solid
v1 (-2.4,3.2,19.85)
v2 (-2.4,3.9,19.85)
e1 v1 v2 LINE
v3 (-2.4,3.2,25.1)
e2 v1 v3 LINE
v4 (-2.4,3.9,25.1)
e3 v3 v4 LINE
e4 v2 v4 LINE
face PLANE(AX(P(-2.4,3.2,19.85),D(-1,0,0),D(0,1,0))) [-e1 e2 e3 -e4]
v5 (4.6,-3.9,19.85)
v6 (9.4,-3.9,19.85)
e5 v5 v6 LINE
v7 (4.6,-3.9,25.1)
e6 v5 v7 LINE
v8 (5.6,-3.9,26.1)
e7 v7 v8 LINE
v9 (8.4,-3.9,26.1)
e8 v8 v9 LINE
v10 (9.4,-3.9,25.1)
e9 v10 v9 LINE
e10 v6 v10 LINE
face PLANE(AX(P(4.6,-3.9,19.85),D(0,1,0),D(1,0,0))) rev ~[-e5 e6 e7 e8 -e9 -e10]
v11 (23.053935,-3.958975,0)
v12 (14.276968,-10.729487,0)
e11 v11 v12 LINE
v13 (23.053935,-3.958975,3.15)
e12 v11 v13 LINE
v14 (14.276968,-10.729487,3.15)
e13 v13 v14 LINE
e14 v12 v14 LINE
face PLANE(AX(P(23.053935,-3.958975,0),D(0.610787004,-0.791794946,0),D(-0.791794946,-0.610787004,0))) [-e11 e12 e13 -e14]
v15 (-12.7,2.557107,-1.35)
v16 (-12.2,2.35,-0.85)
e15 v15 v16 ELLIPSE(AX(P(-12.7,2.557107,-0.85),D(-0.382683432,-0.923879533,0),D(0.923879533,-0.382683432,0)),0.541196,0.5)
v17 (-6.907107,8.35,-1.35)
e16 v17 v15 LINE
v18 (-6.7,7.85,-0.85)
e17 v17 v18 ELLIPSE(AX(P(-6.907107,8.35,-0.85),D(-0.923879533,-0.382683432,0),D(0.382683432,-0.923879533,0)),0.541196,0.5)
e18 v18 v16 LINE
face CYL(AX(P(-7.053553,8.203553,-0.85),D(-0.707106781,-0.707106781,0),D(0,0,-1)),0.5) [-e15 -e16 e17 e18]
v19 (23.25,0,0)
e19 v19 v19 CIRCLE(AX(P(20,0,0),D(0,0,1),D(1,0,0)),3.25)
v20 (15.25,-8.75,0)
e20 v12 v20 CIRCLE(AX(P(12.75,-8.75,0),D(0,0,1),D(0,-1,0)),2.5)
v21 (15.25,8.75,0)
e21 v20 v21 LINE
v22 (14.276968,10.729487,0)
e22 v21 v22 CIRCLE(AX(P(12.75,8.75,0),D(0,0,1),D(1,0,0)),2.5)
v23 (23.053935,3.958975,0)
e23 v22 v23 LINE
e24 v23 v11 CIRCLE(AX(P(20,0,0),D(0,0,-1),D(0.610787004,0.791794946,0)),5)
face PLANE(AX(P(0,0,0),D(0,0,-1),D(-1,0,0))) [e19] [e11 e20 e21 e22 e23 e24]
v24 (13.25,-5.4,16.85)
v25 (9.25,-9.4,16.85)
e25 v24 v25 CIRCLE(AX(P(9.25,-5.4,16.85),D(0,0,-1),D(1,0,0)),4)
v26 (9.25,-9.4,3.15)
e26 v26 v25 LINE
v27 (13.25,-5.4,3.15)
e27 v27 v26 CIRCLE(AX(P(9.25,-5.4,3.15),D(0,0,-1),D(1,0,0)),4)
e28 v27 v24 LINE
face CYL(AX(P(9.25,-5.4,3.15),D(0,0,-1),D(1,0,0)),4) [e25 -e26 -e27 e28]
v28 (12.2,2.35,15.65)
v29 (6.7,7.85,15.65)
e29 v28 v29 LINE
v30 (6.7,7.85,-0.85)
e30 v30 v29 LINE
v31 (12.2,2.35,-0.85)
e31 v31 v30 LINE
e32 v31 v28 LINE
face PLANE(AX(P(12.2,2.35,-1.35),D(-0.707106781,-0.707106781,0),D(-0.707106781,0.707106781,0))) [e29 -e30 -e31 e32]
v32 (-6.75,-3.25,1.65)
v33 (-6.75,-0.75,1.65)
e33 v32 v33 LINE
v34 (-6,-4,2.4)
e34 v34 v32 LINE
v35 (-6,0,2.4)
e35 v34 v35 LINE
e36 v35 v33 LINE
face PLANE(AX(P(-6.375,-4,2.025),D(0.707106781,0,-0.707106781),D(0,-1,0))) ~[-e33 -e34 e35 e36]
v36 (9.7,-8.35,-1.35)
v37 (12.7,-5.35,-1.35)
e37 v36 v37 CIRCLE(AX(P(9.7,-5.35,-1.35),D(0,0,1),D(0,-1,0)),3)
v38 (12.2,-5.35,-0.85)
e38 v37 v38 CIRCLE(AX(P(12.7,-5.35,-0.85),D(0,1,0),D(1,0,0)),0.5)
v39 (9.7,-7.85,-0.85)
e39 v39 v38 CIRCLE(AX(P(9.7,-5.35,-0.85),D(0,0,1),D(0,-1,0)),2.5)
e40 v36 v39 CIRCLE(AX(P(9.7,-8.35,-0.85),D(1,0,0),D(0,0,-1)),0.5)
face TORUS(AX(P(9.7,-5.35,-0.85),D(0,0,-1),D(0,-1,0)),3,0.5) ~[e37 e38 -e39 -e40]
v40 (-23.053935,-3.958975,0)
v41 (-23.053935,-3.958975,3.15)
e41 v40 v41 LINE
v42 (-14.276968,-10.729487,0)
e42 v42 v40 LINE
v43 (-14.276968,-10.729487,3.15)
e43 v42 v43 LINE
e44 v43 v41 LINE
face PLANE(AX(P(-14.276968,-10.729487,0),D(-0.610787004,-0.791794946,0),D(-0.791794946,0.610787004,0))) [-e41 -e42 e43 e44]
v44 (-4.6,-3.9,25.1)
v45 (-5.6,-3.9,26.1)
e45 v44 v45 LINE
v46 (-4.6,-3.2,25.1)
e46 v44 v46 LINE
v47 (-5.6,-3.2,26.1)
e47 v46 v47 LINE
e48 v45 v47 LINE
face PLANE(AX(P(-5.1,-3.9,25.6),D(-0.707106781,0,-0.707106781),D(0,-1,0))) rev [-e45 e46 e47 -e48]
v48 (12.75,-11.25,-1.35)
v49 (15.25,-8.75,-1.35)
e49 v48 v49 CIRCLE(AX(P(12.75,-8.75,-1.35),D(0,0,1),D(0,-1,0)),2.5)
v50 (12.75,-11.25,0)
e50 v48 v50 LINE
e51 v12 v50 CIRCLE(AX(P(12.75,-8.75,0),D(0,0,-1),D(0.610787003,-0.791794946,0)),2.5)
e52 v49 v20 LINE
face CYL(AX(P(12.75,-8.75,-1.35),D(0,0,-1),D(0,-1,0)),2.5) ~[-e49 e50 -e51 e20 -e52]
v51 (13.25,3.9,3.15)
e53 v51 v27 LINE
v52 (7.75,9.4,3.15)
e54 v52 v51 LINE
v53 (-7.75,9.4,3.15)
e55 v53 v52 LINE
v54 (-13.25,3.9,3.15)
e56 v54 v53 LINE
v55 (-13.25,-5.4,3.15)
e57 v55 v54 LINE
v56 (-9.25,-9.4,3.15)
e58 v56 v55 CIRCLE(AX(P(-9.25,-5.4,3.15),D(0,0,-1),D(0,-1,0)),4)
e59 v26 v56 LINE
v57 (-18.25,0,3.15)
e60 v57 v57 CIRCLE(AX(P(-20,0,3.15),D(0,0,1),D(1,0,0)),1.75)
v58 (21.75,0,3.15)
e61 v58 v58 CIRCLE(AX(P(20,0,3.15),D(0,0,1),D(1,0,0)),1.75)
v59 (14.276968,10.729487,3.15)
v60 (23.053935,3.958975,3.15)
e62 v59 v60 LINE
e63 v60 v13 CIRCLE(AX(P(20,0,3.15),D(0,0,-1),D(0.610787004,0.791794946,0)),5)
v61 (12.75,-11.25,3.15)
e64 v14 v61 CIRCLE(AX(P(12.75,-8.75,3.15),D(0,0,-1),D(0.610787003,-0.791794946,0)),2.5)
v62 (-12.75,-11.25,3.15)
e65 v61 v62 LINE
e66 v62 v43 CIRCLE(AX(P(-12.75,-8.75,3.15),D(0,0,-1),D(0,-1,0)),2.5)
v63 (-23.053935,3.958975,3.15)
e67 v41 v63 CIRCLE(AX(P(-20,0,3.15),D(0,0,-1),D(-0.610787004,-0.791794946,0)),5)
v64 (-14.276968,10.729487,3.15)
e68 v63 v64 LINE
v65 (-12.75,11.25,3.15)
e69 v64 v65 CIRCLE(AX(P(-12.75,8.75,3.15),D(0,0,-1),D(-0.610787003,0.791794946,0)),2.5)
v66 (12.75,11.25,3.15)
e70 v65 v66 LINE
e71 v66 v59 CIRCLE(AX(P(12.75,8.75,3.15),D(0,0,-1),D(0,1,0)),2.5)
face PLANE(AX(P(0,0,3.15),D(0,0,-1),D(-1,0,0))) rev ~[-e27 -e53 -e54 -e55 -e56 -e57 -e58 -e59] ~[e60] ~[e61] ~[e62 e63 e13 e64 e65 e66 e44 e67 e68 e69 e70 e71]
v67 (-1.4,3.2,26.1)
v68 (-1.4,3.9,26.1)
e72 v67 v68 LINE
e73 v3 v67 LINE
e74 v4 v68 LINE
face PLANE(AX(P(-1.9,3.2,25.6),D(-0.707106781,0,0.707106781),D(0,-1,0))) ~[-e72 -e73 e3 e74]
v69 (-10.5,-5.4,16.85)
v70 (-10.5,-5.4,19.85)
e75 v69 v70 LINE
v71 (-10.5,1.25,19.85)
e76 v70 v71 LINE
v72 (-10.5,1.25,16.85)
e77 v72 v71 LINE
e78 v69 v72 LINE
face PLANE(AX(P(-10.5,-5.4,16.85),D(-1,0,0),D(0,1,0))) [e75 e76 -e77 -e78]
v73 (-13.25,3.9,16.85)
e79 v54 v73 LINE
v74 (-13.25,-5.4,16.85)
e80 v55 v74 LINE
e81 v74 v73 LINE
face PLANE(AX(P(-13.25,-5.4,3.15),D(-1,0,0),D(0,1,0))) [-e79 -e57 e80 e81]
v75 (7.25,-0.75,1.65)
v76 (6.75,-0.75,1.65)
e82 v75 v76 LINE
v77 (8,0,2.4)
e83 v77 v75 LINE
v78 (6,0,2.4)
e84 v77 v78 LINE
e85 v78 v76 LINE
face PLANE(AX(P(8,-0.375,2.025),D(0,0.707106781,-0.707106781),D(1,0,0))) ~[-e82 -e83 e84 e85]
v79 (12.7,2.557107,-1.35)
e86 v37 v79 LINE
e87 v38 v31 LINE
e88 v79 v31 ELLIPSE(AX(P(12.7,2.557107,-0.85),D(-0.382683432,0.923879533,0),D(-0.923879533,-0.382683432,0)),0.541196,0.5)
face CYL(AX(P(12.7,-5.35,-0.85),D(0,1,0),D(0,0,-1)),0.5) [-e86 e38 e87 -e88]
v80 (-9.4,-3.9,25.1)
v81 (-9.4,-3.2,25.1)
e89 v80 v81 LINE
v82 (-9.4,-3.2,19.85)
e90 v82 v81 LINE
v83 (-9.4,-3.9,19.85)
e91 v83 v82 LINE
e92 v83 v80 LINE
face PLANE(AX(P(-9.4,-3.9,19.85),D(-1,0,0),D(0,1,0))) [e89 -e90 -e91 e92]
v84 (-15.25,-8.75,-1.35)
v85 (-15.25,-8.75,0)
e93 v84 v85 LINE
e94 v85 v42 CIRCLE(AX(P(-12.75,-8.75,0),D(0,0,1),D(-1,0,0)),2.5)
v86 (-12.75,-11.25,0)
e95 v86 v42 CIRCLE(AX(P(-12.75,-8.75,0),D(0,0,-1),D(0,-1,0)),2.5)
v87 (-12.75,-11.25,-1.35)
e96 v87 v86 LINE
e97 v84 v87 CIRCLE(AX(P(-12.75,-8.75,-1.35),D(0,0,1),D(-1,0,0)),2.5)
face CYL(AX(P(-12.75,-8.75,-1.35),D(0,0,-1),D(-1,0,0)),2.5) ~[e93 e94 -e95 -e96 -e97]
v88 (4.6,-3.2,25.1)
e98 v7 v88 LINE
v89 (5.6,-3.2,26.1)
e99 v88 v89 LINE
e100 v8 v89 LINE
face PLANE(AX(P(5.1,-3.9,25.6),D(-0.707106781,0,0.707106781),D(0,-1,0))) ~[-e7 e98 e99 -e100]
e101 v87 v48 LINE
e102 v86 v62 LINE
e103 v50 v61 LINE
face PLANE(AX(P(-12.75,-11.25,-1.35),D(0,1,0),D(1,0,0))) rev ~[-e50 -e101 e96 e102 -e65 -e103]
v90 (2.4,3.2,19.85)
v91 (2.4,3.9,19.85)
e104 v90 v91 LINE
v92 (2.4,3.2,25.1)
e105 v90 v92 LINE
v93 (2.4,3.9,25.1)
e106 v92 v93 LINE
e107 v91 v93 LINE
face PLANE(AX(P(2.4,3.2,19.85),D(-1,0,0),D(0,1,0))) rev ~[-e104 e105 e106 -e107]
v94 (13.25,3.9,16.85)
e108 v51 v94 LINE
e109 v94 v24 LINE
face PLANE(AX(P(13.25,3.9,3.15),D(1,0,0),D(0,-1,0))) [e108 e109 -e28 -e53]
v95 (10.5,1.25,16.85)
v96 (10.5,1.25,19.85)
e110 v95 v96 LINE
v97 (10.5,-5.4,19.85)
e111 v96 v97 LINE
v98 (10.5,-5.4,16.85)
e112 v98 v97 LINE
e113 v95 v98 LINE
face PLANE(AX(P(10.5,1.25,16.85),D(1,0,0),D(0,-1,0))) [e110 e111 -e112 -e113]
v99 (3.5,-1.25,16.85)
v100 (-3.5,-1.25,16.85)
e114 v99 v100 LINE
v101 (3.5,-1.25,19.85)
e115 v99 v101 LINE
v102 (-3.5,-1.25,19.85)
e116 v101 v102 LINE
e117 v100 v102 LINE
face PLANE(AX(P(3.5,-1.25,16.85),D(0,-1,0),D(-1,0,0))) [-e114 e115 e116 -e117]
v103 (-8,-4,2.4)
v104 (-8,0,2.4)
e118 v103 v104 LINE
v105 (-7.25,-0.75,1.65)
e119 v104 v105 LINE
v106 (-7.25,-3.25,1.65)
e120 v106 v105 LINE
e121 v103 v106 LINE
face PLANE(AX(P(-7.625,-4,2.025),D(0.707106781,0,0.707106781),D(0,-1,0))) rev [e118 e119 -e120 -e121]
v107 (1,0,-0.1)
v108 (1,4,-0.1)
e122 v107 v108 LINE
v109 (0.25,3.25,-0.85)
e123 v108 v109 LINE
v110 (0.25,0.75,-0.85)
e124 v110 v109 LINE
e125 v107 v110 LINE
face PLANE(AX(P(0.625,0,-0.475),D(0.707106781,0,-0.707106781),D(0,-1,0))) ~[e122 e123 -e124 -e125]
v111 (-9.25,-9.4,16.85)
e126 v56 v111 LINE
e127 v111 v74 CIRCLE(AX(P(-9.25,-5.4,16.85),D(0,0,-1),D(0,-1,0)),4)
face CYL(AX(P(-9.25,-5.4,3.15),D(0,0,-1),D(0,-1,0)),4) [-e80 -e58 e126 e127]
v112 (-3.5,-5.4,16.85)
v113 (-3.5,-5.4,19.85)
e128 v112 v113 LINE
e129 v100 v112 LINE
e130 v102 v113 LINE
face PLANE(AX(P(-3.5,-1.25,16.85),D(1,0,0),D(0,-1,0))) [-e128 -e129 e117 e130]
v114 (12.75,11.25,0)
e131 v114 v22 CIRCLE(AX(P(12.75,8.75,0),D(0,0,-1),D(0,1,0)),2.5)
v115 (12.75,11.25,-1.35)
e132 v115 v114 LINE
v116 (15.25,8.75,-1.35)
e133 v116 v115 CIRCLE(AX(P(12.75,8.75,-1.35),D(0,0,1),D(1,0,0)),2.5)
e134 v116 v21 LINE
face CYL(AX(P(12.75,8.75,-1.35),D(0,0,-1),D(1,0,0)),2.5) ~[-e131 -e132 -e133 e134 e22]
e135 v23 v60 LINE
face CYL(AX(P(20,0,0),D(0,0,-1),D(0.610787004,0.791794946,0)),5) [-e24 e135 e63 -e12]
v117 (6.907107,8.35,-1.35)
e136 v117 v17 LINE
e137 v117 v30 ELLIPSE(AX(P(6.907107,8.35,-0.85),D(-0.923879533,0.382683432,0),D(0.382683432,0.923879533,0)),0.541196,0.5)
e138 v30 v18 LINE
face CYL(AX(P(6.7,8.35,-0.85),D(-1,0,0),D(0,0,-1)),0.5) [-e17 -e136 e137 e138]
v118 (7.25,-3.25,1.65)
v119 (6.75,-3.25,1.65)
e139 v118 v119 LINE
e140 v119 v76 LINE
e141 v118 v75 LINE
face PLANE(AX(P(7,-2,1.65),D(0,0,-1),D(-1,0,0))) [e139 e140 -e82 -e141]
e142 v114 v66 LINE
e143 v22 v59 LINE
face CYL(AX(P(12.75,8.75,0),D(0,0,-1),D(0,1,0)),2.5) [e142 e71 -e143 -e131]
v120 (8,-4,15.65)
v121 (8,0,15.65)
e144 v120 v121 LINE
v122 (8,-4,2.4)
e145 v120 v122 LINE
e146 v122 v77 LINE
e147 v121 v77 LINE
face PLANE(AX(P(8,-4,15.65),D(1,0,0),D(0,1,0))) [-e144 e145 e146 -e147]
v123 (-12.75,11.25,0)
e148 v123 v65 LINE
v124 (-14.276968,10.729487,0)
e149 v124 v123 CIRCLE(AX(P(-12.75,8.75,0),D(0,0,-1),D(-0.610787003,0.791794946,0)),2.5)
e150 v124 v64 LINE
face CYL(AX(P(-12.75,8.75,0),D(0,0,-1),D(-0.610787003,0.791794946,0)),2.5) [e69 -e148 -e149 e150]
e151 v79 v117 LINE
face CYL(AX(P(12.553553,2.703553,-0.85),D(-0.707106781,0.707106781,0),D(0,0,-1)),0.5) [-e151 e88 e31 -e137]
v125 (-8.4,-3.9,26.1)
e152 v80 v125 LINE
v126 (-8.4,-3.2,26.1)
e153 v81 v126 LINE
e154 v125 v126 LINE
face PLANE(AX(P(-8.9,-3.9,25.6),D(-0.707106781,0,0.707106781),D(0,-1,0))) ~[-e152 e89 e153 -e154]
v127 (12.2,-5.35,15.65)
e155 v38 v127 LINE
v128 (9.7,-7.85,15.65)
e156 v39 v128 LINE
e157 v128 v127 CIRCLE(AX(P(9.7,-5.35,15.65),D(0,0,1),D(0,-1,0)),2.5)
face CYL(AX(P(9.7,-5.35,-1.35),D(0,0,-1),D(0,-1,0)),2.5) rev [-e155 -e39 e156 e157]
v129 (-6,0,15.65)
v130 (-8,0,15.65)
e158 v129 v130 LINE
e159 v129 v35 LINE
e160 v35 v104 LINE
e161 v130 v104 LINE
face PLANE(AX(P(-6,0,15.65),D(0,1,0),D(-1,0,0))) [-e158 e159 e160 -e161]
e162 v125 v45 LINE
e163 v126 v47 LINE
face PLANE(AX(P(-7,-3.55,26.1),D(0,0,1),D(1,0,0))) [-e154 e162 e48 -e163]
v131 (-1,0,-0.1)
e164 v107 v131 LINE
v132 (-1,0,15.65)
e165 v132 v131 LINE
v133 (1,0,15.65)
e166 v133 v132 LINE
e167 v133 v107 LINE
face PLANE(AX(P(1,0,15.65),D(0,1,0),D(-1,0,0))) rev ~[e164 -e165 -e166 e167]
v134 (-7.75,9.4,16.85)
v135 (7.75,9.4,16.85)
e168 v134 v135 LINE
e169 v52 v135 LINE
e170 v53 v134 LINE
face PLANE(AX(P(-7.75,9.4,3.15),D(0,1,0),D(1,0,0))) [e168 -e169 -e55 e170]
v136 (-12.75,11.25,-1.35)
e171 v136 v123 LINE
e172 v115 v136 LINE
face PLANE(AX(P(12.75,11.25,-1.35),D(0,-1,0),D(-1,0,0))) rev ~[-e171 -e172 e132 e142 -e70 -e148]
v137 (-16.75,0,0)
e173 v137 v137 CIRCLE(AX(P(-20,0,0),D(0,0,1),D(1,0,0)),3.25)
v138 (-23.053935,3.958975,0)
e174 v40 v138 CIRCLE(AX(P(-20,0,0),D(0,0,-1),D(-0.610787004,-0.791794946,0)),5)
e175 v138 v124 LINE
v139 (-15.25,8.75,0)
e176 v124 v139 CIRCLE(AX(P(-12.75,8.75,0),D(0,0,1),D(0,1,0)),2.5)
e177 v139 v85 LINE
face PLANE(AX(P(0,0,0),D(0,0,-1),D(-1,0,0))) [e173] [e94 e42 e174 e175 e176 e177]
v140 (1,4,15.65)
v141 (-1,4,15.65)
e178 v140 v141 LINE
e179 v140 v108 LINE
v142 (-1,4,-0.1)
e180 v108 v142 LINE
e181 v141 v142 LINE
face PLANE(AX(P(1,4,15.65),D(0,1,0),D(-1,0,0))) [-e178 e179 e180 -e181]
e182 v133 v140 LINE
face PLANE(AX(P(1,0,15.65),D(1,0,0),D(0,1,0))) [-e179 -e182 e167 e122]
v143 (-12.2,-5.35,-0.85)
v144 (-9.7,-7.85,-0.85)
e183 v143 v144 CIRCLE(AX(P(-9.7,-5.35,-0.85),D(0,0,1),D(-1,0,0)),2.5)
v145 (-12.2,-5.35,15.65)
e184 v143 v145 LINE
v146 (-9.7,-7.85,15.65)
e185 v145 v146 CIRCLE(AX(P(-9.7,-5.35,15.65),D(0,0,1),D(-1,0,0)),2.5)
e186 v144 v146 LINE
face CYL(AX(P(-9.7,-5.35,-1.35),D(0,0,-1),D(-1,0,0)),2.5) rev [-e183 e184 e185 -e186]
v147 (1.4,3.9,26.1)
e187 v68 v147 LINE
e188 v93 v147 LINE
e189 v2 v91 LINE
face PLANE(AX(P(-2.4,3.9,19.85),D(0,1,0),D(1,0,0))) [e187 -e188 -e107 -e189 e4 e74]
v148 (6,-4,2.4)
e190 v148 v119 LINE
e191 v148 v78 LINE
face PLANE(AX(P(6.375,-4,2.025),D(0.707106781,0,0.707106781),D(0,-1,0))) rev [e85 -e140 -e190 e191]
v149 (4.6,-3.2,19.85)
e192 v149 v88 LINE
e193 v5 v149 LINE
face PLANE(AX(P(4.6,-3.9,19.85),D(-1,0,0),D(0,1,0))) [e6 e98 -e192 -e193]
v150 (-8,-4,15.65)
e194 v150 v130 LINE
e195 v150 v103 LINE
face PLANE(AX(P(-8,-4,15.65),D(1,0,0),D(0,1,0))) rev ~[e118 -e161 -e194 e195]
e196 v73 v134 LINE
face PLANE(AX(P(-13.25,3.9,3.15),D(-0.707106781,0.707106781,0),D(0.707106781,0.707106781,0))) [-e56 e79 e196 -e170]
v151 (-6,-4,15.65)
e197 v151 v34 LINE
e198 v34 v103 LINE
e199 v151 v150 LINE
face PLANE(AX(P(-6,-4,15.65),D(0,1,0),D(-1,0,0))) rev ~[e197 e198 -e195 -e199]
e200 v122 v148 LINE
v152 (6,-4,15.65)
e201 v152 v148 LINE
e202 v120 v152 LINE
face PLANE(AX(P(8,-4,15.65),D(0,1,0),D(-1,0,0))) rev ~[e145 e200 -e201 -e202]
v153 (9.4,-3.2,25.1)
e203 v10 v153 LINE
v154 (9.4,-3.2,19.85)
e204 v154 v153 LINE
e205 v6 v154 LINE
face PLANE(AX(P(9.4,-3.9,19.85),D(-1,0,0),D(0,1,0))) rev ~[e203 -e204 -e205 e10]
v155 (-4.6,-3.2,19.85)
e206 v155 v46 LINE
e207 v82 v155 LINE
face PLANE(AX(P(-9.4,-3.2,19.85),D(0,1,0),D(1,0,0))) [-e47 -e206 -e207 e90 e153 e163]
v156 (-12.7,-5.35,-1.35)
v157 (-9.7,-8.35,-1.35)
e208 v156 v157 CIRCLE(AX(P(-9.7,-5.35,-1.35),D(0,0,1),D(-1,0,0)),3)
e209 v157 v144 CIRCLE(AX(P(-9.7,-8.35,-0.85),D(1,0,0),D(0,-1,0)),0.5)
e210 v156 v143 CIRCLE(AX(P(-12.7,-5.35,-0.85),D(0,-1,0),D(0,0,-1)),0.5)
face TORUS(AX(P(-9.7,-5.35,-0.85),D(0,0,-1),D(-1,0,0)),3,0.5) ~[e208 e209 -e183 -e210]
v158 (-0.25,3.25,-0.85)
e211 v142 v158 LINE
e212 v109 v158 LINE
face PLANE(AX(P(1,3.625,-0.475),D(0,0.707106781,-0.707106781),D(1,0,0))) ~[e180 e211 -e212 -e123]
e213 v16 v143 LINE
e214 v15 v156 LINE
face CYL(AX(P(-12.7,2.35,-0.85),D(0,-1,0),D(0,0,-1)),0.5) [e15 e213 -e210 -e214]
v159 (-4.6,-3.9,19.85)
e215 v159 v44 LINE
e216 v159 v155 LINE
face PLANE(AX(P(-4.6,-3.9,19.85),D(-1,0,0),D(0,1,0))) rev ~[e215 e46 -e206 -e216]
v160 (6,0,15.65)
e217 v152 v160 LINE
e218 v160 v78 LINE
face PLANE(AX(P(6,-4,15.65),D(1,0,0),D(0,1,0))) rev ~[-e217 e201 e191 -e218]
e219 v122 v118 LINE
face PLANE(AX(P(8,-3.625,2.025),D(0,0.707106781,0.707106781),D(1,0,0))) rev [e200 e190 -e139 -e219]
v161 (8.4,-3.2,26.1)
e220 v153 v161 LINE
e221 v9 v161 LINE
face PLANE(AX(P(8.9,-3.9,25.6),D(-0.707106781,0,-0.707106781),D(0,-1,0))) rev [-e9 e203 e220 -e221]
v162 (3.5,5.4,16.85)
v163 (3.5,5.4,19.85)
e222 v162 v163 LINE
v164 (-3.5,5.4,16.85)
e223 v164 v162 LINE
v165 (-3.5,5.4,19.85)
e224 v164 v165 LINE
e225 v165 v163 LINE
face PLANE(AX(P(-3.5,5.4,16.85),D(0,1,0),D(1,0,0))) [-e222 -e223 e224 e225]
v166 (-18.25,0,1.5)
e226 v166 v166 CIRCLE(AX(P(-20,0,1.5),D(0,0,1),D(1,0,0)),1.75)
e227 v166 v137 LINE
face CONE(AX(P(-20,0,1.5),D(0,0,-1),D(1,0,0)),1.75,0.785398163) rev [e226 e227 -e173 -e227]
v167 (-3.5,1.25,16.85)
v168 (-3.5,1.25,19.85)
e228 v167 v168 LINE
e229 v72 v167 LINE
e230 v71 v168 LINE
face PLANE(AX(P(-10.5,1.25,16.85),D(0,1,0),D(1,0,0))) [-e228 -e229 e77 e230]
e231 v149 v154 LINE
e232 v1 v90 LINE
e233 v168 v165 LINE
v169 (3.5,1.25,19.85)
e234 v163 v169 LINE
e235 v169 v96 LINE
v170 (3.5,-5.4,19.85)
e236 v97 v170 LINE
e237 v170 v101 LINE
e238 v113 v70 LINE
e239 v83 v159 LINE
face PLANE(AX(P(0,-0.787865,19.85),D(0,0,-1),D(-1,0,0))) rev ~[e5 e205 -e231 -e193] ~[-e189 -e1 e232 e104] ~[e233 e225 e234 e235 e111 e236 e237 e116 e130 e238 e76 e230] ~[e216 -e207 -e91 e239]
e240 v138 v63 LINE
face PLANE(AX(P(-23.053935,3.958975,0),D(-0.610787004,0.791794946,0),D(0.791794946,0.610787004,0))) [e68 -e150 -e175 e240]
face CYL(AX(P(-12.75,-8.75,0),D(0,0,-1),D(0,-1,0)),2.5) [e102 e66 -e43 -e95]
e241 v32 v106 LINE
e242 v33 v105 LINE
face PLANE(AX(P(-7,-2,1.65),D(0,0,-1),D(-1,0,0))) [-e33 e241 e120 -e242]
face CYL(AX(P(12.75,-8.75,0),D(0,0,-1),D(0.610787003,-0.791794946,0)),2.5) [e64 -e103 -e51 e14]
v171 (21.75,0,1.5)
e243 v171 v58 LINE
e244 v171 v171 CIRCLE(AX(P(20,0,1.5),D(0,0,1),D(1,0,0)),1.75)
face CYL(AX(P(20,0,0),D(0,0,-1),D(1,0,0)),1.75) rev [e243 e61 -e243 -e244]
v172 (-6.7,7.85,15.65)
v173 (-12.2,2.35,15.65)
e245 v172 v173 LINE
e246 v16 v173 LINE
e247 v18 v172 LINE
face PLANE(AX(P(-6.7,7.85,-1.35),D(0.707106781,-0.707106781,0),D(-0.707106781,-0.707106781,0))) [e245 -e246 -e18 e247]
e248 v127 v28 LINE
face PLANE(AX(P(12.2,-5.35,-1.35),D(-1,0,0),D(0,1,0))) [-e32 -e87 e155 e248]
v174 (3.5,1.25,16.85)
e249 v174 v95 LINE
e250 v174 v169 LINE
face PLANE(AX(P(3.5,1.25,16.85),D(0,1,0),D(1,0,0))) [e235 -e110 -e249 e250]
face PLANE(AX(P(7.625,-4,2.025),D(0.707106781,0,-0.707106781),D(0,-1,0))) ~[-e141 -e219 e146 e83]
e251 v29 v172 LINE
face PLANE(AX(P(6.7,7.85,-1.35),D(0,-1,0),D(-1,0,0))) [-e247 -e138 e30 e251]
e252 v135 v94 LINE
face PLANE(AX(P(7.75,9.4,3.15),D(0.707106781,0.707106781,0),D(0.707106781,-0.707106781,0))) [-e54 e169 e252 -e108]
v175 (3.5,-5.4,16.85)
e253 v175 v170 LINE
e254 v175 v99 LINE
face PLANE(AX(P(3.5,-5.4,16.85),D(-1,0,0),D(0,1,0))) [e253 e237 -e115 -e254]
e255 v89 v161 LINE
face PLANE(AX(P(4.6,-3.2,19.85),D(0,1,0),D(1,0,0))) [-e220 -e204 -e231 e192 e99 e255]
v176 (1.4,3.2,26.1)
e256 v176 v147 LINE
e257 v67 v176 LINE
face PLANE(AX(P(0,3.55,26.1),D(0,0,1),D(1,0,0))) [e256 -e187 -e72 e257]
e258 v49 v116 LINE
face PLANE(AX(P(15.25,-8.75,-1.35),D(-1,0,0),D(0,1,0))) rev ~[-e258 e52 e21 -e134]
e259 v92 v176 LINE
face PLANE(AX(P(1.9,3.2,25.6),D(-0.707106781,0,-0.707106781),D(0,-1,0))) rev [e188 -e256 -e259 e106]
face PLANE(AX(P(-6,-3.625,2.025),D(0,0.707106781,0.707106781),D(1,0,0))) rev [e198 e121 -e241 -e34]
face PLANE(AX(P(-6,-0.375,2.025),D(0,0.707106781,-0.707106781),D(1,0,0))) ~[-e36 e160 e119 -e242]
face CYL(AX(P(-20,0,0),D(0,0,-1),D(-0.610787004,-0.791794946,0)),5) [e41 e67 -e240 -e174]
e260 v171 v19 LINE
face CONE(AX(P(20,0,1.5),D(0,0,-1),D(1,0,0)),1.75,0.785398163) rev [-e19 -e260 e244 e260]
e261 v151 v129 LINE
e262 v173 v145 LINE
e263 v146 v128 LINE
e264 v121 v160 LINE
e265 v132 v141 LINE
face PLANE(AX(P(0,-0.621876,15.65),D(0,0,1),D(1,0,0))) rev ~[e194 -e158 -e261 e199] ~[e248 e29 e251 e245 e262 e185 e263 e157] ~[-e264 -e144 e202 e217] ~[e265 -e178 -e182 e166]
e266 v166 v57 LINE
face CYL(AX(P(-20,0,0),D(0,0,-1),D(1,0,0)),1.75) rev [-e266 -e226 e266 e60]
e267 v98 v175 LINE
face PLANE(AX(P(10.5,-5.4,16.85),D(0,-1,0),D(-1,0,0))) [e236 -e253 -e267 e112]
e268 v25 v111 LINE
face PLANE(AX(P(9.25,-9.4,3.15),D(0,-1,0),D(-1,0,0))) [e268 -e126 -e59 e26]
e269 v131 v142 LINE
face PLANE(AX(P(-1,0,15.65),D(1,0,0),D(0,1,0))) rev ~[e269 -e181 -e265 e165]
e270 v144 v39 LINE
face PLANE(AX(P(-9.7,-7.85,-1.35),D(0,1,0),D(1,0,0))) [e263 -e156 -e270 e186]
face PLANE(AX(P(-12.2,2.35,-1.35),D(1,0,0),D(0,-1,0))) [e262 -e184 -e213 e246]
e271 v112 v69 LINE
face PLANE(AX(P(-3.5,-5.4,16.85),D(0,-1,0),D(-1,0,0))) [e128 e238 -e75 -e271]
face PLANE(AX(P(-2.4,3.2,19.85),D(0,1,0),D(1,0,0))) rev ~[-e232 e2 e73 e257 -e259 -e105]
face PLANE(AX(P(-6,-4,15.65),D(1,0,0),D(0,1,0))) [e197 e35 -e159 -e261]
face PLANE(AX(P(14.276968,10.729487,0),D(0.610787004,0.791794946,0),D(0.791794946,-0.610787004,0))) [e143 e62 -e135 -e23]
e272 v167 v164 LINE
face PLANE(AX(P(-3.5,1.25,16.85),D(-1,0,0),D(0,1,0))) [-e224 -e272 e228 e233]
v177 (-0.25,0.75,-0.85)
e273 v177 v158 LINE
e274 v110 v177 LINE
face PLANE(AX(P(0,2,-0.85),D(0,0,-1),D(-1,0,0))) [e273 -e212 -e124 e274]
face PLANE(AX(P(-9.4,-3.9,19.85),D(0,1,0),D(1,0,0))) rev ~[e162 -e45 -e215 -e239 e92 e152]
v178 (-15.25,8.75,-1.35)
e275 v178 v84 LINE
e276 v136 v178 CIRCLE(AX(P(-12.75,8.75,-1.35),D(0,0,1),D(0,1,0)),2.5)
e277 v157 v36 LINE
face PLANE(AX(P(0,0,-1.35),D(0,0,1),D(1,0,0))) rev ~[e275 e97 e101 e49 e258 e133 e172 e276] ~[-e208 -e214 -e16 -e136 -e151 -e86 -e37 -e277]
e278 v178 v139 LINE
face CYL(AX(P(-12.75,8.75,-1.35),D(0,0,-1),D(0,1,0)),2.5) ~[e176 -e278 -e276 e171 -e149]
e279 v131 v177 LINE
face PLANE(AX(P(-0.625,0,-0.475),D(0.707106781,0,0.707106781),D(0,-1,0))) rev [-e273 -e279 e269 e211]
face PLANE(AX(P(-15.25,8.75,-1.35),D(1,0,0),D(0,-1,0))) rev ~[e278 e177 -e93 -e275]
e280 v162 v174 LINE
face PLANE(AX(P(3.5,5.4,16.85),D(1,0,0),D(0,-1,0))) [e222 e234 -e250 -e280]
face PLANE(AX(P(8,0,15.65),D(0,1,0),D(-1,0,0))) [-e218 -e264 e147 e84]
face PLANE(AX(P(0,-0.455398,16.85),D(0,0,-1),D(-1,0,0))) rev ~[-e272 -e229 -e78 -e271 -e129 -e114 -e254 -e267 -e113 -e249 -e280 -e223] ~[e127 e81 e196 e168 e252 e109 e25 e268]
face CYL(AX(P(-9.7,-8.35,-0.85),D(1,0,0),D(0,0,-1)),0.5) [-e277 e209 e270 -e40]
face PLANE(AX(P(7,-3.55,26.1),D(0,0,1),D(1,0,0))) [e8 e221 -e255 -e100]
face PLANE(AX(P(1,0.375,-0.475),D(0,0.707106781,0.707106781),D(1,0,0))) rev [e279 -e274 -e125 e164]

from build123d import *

# Parameters (mm, degrees)
SKETCH1_R      = 1.75
EXTRUDE1_DEPTH = 3.15
CHAMFER1_SIZE  = 1.5
EXTRUDE2_START = 1.35
EXTRUDE2_DEPTH = 1.35
EXTRUDE3_DEPTH = 13.7
EXTRUDE4_DEPTH = 3
SKETCH5_W      = 4.8
SKETCH5_H      = 0.7
EXTRUDE5_DEPTH = 6.25
CHAMFER2_SIZE  = 1
EXTRUDE6_DEPTH = 17
FILLET1_R      = 0.5
SKETCH7_W      = 2
SKETCH7_H      = 4
EXTRUDE7_DEPTH = 14
SKETCH8_W      = 2
SKETCH8_H      = 4
EXTRUDE8_DEPTH = 16.5
CHAMFER3_SIZE  = 0.75


with BuildPart() as part:
    # Sketch1 → Extrude1 (new body)
    with BuildSketch(Plane.XY):
        with BuildLine():
            Line((-12.75, 11.25), (12.75, 11.25))
            ThreePointArc((12.75, 11.25), (13.556623081, 11.116296517), (14.276967509, 10.729487365))
            Line((14.276967509, 10.729487365), (23.053935018, 3.958974729))
            ThreePointArc((23.053935018, 3.958974729), (25, 0), (23.053935018, -3.958974729))
            Line((23.053935018, -3.958974729), (14.276967509, -10.729487365))
            ThreePointArc((14.276967509, -10.729487365), (13.556623081, -11.116296517), (12.75, -11.25))
            Line((12.75, -11.25), (-12.75, -11.25))
            ThreePointArc((-12.75, -11.25), (-13.556623081, -11.116296517), (-14.276967509, -10.729487365))
            Line((-14.276967509, -10.729487365), (-23.053935018, -3.958974729))
            ThreePointArc((-23.053935018, -3.958974729), (-25, 0), (-23.053935018, 3.958974729))
            Line((-23.053935018, 3.958974729), (-14.276967509, 10.729487365))
            ThreePointArc((-14.276967509, 10.729487365), (-13.556623081, 11.116296517), (-12.75, 11.25))
        make_face()
        with Locations((-20, 0)):
            Circle(SKETCH1_R, mode=Mode.SUBTRACT)
        with Locations((20, 0)):
            Circle(SKETCH1_R, mode=Mode.SUBTRACT)
    extrude(amount=EXTRUDE1_DEPTH)

    # Chamfer1
    chamfer1_edges = [part.edges().sort_by_distance(p)[0] for p in [
        (-21.75, 0, 0),
        (18.25, 0, 0),
    ]]
    chamfer(chamfer1_edges, length=CHAMFER1_SIZE)

    # Sketch2 → Extrude2 (add)
    with BuildSketch(Plane(origin=(0, 0, 0), x_dir=(-1, 0, 0), z_dir=(0, 0, -1)).offset(EXTRUDE2_START)):
        with BuildLine():
            Line((-12.75, 11.25), (12.75, 11.25))
            ThreePointArc((12.75, 11.25), (14.517766953, 10.517766953), (15.25, 8.75))
            Line((15.25, 8.75), (15.25, -8.75))
            ThreePointArc((15.25, -8.75), (14.517766953, -10.517766953), (12.75, -11.25))
            Line((12.75, -11.25), (-12.75, -11.25))
            ThreePointArc((-12.75, -11.25), (-14.517766953, -10.517766953), (-15.25, -8.75))
            Line((-15.25, -8.75), (-15.25, 8.75))
            ThreePointArc((-15.25, 8.75), (-14.517766953, 10.517766953), (-12.75, 11.25))
        make_face()
    extrude(amount=-EXTRUDE2_DEPTH)

    # Sketch3 → Extrude3 (add)
    with BuildSketch(Plane.XY.offset(3.15)):
        with BuildLine():
            Line((-7.75, 9.4), (7.75, 9.4))
            Line((7.75, 9.4), (13.25, 3.9))
            Line((13.25, 3.9), (13.25, -5.4))
            ThreePointArc((13.25, -5.4), (12.078427125, -8.228427125), (9.25, -9.4))
            Line((9.25, -9.4), (-9.25, -9.4))
            ThreePointArc((-9.25, -9.4), (-12.078427125, -8.228427125), (-13.25, -5.4))
            Line((-13.25, -5.4), (-13.25, 3.9))
            Line((-13.25, 3.9), (-7.75, 9.4))
        make_face()
    extrude(amount=EXTRUDE3_DEPTH)

    # Sketch4 → Extrude4 (add)
    with BuildSketch(Plane.XY.offset(16.85)):
        Polygon((-10.5, 1.25), (-3.5, 1.25), (-3.5, 5.4), (3.5, 5.4), (3.5, 1.25), (10.5, 1.25), (10.5, -5.4), (3.5, -5.4), (3.5, -1.25), (-3.5, -1.25), (-3.5, -5.4), (-10.5, -5.4), align=None)
    extrude(amount=EXTRUDE4_DEPTH)

    # Sketch5 → Extrude5 (add)
    with BuildSketch(Plane.XY.offset(19.85)):
        with Locations((0, 3.55)):
            Rectangle(SKETCH5_W, SKETCH5_H)
        with Locations((7, -3.55)):
            Rectangle(SKETCH5_W, SKETCH5_H)
        with Locations((-7, -3.55)):
            Rectangle(SKETCH5_W, SKETCH5_H)
    extrude(amount=EXTRUDE5_DEPTH)

    # Chamfer2
    chamfer2_edges = [part.edges().sort_by_distance(p)[0] for p in [
        (-2.4, 3.55, 26.1),
        (2.4, 3.55, 26.1),
        (4.6, -3.55, 26.1),
        (9.4, -3.55, 26.1),
        (-9.4, -3.55, 26.1),
        (-4.6, -3.55, 26.1),
    ]]
    chamfer(chamfer2_edges, length=CHAMFER2_SIZE)

    # Sketch6 → Extrude6 (cut)
    with BuildSketch(Plane(origin=(0, 0, -1.35), x_dir=(-1, 0, 0), z_dir=(0, 0, -1))):
        with BuildLine():
            Line((-6.7, 7.85), (6.7, 7.85))
            Line((6.7, 7.85), (12.2, 2.35))
            Line((12.2, 2.35), (12.2, -5.35))
            ThreePointArc((12.2, -5.35), (11.467766953, -7.117766953), (9.7, -7.85))
            Line((9.7, -7.85), (-9.7, -7.85))
            ThreePointArc((-9.7, -7.85), (-11.467766953, -7.117766953), (-12.2, -5.35))
            Line((-12.2, -5.35), (-12.2, 2.35))
            Line((-12.2, 2.35), (-6.7, 7.85))
        make_face()
    extrude(amount=-EXTRUDE6_DEPTH, mode=Mode.SUBTRACT)

    # Fillet1
    fillet1_edges = [part.edges().sort_by_distance(p)[0] for p in [
        (9.45, 5.1, -1.35),
        (12.2, -1.5, -1.35),
        (11.467766953, -7.117766953, -1.35),
        (0, -7.85, -1.35),
        (-11.467766953, -7.117766953, -1.35),
        (-12.2, -1.5, -1.35),
        (-9.45, 5.1, -1.35),
        (0, 7.85, -1.35),
    ]]
    fillet(fillet1_edges, radius=FILLET1_R)

    # Sketch7 → Extrude7 (add)
    with BuildSketch(Plane(origin=(0, 0, 15.65), x_dir=(-1, 0, 0), z_dir=(0, 0, -1))):
        with Locations((-7, -2)):
            Rectangle(SKETCH7_W, SKETCH7_H)
        with Locations((7, -2)):
            Rectangle(SKETCH7_W, SKETCH7_H)
    extrude(amount=EXTRUDE7_DEPTH)

    # Sketch8 → Extrude8 (add)
    with BuildSketch(Plane(origin=(0, 0, 15.65), x_dir=(-1, 0, 0), z_dir=(0, 0, -1))):
        with Locations((0, 2)):
            Rectangle(SKETCH8_W, SKETCH8_H)
    extrude(amount=EXTRUDE8_DEPTH)

    # Chamfer3
    chamfer3_edges = [part.edges().sort_by_distance(p)[0] for p in [
        (8, -2, 1.65),
        (7, -4, 1.65),
        (6, -2, 1.65),
        (7, 0, 1.65),
        (-6, -2, 1.65),
        (-7, -4, 1.65),
        (-8, -2, 1.65),
        (-7, 0, 1.65),
        (1, 2, -0.85),
        (0, 0, -0.85),
        (-1, 2, -0.85),
        (0, 4, -0.85),
    ]]
    chamfer(chamfer3_edges, length=CHAMFER3_SIZE)


solid = part.part
